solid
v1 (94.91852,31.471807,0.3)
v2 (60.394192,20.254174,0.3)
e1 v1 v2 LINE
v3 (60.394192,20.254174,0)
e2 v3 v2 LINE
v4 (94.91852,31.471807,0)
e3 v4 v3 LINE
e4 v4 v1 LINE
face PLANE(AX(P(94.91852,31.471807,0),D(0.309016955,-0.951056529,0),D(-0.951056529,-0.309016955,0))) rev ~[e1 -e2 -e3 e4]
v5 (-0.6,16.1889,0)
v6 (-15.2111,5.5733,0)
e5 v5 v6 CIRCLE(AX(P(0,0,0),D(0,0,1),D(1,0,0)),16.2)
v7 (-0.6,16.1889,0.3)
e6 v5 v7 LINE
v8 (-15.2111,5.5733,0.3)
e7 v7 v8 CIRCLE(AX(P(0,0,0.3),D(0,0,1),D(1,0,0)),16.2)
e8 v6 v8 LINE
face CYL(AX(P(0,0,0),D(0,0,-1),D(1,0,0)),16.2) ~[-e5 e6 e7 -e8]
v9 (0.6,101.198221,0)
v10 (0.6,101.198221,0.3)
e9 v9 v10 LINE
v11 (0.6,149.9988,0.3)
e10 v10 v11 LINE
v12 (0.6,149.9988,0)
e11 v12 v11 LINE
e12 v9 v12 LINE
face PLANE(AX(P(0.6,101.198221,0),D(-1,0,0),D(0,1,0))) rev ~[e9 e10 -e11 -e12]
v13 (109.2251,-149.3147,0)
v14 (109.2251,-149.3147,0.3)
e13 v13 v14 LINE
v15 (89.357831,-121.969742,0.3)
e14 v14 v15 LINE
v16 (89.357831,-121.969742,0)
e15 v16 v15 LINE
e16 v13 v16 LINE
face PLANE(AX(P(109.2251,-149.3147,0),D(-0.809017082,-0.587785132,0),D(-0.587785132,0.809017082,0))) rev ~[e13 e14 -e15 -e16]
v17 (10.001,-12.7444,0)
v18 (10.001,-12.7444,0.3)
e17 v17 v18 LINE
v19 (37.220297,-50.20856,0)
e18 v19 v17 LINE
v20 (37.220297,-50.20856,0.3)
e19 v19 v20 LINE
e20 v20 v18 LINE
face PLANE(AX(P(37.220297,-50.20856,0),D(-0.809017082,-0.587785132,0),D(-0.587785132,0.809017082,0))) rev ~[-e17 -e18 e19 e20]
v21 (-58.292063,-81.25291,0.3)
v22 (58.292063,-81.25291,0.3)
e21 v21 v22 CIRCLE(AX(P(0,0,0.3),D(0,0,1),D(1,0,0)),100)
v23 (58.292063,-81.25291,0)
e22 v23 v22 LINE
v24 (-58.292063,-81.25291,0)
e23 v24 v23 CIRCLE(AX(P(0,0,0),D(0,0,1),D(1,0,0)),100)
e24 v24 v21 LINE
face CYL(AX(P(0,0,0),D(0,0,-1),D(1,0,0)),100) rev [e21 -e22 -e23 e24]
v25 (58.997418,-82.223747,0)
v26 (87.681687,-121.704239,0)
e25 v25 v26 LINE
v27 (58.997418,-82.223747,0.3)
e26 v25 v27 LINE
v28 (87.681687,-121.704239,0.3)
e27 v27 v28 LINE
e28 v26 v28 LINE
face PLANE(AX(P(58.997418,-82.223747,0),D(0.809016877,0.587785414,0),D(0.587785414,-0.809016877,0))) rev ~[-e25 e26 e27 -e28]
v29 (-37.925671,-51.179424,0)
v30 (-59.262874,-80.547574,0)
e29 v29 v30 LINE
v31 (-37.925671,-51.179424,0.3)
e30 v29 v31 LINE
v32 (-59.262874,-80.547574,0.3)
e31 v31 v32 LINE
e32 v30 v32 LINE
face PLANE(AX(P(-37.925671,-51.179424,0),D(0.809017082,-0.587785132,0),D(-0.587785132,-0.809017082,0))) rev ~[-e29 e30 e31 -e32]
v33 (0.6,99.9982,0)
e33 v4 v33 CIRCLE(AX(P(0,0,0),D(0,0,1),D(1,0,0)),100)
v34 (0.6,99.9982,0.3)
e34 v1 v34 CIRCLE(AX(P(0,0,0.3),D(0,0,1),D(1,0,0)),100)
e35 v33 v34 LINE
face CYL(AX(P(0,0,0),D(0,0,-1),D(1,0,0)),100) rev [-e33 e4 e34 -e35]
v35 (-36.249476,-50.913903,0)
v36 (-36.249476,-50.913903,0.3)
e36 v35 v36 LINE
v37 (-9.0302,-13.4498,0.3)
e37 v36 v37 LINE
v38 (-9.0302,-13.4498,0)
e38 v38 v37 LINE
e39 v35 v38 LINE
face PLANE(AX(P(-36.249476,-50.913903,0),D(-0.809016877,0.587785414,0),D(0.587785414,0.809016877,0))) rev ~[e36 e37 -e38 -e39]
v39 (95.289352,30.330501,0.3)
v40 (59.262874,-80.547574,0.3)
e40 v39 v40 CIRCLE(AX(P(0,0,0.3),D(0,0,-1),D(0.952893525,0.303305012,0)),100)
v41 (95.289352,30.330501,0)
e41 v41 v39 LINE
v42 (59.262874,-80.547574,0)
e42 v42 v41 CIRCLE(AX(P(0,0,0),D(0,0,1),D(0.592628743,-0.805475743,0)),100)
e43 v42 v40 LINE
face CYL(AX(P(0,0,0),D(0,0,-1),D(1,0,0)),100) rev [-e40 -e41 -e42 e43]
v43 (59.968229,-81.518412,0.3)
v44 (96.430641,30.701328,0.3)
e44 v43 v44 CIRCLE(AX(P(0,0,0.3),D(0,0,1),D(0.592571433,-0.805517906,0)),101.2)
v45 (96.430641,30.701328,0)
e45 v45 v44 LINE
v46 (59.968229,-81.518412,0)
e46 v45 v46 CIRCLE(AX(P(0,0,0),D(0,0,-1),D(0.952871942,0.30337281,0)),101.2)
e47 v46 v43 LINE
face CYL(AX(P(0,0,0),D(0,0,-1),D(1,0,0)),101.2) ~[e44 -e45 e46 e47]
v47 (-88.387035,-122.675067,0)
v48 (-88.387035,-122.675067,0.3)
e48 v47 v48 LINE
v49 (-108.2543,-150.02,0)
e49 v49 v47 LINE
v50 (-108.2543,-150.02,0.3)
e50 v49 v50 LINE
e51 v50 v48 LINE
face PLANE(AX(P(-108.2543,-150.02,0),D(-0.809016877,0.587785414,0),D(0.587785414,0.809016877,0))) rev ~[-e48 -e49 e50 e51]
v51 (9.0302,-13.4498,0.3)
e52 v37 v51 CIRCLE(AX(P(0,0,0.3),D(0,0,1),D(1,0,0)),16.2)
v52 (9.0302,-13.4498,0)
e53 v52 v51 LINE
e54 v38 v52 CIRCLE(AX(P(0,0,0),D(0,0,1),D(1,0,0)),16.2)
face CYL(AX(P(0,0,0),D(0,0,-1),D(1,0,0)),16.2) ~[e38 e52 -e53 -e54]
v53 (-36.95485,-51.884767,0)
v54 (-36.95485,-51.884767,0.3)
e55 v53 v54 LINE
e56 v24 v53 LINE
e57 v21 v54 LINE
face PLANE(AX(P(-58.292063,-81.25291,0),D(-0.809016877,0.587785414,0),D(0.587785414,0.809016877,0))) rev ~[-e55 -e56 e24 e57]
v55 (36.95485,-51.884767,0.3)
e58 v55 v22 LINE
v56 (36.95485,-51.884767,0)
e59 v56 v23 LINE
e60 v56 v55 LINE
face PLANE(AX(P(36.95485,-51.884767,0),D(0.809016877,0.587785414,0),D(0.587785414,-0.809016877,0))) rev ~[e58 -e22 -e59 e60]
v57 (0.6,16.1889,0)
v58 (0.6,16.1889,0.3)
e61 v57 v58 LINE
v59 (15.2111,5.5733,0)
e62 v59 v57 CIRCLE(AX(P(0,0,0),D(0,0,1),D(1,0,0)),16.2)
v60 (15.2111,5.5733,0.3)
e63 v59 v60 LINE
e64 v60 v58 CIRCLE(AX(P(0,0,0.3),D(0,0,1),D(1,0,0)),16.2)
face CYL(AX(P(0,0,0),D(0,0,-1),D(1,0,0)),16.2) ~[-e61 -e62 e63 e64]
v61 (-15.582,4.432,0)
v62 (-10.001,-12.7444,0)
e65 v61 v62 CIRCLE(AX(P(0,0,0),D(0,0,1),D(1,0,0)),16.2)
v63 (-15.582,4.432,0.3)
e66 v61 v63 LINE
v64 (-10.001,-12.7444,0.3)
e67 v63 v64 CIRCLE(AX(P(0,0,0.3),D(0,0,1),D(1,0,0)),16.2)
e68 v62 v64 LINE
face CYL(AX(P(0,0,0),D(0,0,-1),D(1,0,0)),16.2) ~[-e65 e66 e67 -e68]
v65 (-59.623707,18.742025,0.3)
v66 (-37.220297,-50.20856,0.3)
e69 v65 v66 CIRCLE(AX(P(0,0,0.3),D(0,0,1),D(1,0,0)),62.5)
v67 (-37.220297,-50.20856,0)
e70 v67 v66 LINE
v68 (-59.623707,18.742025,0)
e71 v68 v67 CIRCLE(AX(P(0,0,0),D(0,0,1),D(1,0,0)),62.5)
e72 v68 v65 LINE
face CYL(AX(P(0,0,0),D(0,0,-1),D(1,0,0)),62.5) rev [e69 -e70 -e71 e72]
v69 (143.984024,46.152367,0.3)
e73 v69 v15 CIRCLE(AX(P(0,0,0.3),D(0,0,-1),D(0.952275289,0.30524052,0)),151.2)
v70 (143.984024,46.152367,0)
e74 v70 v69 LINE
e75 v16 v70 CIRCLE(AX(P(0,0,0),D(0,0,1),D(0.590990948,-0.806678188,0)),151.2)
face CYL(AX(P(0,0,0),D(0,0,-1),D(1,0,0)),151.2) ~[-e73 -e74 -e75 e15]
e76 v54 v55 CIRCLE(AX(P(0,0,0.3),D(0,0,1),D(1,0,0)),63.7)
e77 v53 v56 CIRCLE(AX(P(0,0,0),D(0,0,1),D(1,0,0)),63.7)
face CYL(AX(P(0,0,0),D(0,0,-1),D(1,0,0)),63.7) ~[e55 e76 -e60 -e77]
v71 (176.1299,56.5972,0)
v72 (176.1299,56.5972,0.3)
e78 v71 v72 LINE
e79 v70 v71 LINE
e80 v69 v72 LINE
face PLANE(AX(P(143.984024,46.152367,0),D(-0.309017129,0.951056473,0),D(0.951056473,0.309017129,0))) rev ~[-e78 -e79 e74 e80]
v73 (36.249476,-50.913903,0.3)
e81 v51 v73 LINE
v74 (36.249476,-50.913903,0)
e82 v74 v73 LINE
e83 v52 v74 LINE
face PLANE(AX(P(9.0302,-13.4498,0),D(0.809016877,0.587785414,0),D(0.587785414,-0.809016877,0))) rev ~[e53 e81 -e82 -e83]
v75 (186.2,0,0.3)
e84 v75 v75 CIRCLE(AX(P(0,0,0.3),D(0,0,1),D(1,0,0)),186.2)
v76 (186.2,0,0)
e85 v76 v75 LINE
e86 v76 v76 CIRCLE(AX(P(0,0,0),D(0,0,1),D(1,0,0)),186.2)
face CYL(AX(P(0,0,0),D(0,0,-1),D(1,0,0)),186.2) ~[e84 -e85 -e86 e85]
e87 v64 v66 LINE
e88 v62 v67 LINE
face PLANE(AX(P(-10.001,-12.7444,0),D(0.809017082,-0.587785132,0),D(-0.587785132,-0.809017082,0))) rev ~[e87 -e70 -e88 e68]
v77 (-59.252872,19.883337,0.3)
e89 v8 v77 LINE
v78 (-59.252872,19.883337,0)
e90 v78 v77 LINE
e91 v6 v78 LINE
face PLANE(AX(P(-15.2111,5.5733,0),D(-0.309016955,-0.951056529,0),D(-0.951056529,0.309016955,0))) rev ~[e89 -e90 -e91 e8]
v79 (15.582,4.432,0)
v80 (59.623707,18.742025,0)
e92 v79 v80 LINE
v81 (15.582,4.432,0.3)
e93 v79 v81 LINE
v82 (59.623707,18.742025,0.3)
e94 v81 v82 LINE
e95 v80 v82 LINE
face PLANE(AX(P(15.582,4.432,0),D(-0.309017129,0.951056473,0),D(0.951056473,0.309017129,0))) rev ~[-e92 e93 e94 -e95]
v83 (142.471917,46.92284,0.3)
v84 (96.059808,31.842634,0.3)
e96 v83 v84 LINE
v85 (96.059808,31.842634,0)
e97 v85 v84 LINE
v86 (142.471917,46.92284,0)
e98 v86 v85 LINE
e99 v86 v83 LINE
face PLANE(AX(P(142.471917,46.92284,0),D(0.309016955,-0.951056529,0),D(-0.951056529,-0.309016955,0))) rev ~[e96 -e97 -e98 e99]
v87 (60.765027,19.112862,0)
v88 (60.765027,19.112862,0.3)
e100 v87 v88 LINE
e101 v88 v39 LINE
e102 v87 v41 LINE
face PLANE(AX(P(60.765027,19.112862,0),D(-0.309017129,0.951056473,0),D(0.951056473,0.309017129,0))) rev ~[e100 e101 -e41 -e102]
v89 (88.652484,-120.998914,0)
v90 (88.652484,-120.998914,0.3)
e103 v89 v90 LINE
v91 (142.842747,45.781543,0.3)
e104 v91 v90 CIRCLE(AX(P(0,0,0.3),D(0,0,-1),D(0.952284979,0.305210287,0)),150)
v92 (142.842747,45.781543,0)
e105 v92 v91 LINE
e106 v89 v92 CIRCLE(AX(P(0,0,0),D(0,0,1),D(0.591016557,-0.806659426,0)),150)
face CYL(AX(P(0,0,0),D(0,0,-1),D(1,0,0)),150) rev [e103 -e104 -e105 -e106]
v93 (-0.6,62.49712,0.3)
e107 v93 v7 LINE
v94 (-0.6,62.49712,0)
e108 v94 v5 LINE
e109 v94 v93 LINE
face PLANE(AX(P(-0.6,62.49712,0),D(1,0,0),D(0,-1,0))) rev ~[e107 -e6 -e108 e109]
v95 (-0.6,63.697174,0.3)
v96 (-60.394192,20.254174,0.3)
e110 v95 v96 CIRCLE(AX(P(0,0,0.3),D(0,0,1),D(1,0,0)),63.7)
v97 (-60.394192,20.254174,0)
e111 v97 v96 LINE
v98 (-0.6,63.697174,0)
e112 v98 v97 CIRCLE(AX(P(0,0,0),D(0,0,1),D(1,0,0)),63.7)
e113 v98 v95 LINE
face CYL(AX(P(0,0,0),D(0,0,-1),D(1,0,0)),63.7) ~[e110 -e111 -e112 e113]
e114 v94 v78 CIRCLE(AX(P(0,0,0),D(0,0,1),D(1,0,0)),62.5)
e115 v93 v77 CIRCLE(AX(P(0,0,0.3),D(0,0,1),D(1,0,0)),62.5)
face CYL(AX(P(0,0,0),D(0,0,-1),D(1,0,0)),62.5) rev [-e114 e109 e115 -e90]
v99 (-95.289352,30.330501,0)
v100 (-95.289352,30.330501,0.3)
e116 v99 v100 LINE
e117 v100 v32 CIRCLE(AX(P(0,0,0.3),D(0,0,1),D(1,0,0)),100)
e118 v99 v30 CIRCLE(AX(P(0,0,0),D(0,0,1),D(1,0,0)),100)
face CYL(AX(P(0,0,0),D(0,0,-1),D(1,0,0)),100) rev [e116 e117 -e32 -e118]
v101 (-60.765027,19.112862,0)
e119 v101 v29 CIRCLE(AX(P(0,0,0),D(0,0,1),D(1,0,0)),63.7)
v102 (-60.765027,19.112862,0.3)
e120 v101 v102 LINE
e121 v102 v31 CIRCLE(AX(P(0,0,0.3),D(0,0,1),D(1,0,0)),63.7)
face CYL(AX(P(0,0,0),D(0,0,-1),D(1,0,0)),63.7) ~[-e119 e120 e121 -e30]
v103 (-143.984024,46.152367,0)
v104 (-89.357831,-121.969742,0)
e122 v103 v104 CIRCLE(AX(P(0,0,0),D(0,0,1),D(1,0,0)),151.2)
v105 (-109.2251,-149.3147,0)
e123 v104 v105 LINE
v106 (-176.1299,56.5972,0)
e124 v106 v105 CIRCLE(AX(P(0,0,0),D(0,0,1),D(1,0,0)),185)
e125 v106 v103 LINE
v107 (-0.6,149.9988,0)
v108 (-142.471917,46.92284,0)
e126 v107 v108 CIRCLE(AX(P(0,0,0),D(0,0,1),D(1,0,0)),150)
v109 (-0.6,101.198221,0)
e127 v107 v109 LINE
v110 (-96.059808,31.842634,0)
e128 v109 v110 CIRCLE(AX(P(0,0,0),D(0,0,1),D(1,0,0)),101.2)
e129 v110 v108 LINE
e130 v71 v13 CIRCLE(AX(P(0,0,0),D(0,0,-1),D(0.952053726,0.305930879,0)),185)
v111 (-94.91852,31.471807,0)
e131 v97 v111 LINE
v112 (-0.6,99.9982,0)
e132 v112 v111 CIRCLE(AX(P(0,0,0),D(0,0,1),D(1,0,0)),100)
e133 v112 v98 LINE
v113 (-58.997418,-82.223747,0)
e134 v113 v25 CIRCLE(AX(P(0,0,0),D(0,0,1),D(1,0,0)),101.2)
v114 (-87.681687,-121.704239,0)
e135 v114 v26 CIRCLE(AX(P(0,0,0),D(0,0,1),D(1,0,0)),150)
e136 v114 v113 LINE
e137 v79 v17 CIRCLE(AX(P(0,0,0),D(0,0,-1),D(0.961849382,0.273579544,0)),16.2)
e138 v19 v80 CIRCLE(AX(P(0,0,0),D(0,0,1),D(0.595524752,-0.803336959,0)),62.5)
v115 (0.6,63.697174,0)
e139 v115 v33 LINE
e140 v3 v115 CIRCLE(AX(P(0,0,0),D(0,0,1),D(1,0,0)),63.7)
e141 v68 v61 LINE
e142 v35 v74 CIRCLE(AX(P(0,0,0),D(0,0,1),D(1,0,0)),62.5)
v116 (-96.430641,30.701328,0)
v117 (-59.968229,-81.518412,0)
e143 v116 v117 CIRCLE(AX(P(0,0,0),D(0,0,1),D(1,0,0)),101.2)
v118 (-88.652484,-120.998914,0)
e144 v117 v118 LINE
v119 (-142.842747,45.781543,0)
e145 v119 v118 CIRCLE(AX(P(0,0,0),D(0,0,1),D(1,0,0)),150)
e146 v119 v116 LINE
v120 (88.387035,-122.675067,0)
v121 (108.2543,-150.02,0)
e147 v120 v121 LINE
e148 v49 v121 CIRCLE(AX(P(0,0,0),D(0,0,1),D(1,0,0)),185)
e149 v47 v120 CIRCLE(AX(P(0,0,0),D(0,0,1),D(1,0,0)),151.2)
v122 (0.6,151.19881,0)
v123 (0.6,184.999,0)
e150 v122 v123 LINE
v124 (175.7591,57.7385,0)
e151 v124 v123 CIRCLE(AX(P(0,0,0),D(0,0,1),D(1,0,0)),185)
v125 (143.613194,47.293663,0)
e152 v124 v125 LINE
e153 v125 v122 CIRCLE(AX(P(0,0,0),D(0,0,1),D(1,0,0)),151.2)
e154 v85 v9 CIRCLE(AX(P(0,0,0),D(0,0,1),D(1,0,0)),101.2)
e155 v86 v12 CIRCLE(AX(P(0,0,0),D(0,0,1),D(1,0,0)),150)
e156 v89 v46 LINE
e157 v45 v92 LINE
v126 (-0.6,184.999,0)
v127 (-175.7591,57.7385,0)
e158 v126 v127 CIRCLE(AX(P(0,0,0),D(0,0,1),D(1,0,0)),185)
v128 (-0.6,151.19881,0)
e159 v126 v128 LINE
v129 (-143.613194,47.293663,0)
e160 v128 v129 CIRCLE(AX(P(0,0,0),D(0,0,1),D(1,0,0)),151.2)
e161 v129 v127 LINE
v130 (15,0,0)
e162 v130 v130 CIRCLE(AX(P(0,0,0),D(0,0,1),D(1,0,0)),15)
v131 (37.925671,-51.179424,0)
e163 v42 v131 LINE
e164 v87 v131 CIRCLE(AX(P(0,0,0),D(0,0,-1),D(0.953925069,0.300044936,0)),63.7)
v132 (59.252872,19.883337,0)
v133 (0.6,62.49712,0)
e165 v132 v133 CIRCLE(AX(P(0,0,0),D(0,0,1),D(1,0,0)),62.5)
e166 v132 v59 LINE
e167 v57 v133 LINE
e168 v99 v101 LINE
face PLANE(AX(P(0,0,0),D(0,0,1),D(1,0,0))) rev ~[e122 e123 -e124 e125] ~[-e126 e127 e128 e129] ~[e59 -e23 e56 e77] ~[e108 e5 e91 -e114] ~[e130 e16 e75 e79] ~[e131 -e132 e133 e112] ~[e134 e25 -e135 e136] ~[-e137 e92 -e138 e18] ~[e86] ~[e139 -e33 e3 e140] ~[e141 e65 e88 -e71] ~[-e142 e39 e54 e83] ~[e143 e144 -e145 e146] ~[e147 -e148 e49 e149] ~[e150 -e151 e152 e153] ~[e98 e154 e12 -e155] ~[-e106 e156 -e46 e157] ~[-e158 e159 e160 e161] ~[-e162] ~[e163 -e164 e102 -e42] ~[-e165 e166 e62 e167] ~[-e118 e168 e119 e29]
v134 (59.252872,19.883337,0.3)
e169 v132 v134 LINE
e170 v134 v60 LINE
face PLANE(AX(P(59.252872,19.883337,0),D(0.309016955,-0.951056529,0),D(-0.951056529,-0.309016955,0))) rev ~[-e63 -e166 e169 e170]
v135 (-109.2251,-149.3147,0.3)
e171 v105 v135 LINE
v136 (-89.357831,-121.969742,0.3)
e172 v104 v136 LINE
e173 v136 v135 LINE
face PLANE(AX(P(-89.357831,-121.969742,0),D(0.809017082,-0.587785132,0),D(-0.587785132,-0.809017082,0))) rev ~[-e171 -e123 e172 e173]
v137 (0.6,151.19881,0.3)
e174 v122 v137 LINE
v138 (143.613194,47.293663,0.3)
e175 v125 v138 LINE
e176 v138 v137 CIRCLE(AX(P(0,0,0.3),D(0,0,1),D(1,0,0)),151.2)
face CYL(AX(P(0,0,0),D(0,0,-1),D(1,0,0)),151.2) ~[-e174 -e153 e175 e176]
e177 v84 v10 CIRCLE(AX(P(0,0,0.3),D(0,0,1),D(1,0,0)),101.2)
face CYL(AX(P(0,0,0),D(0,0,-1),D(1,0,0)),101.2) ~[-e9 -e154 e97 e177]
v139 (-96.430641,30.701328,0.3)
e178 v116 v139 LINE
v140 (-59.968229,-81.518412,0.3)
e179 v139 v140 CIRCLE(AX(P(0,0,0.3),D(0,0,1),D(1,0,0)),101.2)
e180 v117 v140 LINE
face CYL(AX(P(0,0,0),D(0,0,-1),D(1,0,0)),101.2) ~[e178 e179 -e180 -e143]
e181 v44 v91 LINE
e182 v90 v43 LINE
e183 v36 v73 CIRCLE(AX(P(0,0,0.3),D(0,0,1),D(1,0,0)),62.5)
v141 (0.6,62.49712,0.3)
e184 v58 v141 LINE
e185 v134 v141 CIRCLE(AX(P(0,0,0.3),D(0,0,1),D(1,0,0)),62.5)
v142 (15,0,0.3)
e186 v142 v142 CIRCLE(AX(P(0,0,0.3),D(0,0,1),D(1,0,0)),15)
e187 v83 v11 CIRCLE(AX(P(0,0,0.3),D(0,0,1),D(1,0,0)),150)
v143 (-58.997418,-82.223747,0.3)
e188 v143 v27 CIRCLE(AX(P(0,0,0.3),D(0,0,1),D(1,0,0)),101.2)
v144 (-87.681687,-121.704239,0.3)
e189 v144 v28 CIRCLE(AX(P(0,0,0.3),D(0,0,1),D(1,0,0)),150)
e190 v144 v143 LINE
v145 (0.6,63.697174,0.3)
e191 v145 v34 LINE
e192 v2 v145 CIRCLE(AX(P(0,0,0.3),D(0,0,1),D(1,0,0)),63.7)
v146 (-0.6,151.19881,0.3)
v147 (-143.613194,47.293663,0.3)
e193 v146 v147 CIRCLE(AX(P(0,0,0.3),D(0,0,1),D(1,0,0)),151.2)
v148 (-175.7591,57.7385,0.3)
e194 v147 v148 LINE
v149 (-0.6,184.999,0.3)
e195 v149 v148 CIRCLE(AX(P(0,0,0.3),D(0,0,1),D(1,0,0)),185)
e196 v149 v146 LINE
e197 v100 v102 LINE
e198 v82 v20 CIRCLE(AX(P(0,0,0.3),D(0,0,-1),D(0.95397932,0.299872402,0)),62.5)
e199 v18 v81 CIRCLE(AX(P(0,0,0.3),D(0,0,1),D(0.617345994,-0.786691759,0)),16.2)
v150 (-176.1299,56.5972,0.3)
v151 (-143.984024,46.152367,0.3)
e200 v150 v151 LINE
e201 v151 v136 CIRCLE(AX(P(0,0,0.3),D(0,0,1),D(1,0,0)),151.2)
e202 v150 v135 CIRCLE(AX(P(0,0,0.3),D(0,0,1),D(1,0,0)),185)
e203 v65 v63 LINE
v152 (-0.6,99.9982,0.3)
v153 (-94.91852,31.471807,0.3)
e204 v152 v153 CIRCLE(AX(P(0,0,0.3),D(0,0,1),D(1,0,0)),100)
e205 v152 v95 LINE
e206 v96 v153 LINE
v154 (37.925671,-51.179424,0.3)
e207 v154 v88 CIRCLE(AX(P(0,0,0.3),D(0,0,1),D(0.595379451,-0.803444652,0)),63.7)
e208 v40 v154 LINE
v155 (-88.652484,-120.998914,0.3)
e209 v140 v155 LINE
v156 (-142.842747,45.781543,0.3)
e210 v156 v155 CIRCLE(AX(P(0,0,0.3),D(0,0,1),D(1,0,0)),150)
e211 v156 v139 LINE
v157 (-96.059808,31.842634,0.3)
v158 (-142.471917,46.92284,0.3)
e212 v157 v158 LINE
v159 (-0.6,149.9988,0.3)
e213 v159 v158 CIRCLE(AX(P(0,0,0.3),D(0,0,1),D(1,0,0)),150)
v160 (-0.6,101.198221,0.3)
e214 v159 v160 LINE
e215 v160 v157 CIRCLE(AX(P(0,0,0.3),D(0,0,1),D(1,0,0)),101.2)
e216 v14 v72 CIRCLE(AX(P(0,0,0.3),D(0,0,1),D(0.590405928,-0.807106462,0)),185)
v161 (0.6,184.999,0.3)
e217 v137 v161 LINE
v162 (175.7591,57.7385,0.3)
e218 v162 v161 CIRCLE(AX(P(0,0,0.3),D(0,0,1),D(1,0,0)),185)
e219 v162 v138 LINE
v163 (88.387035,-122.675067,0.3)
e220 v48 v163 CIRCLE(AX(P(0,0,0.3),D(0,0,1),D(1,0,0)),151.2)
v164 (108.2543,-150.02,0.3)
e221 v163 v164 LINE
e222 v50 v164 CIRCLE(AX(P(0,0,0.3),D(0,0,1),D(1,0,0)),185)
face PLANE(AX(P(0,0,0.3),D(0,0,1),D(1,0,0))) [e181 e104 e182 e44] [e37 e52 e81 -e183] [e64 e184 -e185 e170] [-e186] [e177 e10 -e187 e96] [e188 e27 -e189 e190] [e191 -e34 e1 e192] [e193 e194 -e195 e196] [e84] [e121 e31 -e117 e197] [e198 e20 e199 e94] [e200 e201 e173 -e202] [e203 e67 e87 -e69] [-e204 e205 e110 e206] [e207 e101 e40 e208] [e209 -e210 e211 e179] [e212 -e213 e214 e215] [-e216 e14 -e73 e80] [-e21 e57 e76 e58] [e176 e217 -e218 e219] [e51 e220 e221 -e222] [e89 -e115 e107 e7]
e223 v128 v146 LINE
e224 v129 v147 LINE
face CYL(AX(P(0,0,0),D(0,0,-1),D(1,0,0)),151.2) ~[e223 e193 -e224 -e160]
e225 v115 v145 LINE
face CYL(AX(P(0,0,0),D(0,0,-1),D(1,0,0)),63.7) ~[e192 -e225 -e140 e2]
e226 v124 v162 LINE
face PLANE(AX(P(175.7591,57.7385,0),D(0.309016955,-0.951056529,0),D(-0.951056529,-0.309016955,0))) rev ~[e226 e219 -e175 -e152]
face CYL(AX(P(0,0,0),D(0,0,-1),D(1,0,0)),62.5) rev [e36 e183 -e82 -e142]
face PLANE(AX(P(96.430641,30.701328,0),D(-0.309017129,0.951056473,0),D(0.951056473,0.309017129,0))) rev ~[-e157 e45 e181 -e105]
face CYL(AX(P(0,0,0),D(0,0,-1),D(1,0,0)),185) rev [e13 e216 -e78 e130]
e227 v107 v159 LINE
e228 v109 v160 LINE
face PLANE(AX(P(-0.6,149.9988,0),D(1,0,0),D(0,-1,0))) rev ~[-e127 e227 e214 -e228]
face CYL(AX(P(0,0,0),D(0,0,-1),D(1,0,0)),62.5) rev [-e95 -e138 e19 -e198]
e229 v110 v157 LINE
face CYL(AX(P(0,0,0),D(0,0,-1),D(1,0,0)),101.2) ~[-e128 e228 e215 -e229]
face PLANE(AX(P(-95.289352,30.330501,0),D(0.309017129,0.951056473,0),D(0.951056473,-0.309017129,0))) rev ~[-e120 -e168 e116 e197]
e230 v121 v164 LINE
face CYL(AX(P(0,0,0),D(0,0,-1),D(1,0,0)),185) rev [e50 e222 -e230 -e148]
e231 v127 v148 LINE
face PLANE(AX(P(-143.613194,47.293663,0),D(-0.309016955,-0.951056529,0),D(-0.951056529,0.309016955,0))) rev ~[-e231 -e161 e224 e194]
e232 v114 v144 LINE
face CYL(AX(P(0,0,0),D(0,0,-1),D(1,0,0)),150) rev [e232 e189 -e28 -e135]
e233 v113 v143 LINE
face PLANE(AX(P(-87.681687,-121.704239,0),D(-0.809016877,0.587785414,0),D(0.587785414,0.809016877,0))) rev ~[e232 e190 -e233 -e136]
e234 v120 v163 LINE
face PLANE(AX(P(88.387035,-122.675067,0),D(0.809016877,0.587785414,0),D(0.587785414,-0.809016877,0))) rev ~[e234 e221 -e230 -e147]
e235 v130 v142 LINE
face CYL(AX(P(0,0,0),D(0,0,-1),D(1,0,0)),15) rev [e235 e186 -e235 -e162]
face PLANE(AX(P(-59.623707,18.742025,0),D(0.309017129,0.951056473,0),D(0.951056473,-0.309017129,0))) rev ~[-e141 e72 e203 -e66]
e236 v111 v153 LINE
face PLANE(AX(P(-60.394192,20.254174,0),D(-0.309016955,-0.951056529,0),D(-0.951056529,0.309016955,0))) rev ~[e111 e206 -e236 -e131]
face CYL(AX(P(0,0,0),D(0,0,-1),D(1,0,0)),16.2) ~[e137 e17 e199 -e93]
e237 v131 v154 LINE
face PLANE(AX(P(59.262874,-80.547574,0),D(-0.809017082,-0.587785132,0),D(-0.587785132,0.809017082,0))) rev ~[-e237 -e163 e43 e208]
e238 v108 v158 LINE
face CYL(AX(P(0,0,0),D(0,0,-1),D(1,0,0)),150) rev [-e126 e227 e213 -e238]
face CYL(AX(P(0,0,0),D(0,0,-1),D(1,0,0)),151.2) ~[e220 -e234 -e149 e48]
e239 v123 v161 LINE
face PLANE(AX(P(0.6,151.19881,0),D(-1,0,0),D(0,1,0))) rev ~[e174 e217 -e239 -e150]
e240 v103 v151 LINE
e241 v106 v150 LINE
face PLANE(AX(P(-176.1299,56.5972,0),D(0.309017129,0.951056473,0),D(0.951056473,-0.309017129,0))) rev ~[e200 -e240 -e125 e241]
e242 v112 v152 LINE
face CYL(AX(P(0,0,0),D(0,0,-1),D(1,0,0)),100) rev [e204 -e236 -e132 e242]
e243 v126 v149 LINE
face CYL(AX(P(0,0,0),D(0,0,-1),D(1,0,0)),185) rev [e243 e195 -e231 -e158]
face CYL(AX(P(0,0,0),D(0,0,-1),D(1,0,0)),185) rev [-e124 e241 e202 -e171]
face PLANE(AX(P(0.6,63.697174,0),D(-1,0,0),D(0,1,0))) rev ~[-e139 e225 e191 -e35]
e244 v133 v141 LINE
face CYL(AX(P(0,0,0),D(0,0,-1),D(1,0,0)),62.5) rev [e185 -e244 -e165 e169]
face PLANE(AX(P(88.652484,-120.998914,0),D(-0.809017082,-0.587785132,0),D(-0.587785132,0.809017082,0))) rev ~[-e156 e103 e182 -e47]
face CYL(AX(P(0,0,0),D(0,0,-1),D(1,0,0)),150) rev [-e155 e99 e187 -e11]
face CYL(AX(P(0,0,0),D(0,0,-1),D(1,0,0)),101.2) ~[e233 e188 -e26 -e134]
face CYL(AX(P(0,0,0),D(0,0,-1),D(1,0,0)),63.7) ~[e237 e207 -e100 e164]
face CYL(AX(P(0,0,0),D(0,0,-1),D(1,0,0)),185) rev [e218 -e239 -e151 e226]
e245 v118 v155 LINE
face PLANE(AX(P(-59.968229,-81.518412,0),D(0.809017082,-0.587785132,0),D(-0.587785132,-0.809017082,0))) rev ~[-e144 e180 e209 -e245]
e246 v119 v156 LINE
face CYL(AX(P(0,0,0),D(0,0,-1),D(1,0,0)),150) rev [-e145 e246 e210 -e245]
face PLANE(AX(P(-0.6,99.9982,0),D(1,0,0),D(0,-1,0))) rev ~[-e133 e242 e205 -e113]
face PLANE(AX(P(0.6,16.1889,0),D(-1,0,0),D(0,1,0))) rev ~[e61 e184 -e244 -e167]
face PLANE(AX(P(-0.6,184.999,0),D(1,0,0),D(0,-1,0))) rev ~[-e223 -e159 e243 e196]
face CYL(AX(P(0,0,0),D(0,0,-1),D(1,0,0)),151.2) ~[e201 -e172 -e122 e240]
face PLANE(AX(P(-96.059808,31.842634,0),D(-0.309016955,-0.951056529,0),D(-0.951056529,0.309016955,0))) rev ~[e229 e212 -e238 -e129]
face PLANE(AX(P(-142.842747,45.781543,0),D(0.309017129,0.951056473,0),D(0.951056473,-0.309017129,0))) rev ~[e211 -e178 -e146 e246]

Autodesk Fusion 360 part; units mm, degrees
sketch "Sketch1" plane through (0, 0, 0) normal (0, 0, 1) x (1, 0, 0)
  circle A0 centre (0, 0) radius 185
  circle A1 centre (0, 0) radius 186.2
  circle A2 centre (0, 0) radius 150
  circle A3 centre (0, 0) radius 100
  circle A4 centre (0, 0) radius 62.5
  circle A5 centre (0, 0) radius 15
  circle A6 centre (0, 0) radius 151.2
  circle A7 centre (0, 0) radius 101.2
  circle A8 centre (0, 0) radius 63.7
  circle A9 centre (0, 0) radius 16.2
  line L0 (0, 0) -> (0, 186.2) construction
  line L1 (-0.6, 184.999) -> (-0.6, 16.1889)
  line L2 (0.6, 16.1889) -> (0.6, 184.999)
  line L3 (-15.2111, 5.5733) -> (-175.7591, 57.7385)
  line L4 (-176.1299, 56.5972) -> (-15.582, 4.432)
  line L5 (-10.001, -12.7444) -> (-109.2251, -149.3147)
  line L6 (-108.2543, -150.02) -> (-9.0302, -13.4498)
  line L7 (9.0302, -13.4498) -> (108.2543, -150.02)
  line L8 (109.2251, -149.3147) -> (10.001, -12.7444)
  line L9 (15.582, 4.432) -> (176.1299, 56.5972)
  line L10 (175.7591, 57.7385) -> (15.2111, 5.5733)
  dimension "d1" = 370
  dimension "d2" = 1.2
  dimension "d3" = 300
  dimension "d4" = 200
  dimension "d5" = 125
  dimension "d6" = 30
  dimension "d7" = 1.2
  dimension "d8" = 1.2
  dimension "d9" = 1.2
  dimension "d10" = 1.2
  dimension "d11" = 1.2
  dimension "d13" = 360
extrude "Extrude1" add sketch "Sketch1" along normal blind 0.3 contours A0 A6 L9 L10 | A0 A6 L7 L8 | A2 A6 L9 L10 | A2 A6 L8 L9 | A2 A6 L7 L8 | A0 A6 L1 L2 | A2 A6 L2 L10 | A2 A7 L9 L10 | A0 A6 L5 L6 | A2 A6 L6 L7 | A2 A7 L7 L8 | A2 A6 L1 L2 | A3 A7 L9 L10 | A3 A7 L8 L9 | A2 A6 L5 L6 | A3 A7 L7 L8 | A0 A6 L3 L4 | A2 A6 L1 L3 | A2 A7 L1 L2 | A3 A7 L2 L10 | A3 A8 L9 L10 | A2 A6 L4 L5 | A2 A7 L5 L6 | A3 A7 L6 L7 | A3 A8 L7 L8 | A2 A6 L3 L4 | A3 A7 L1 L2 | A4 A8 L9 L10 | A4 A8 L8 L9 | A3 A7 L5 L6 | A4 A8 L7 L8 | A2 A7 L3 L4 | A3 A7 L1 L3 | A3 A8 L1 L2 | A4 A8 L2 L10 | A4 A9 L9 L10 | A3 A7 L4 L5 | A3 A8 L5 L6 | A4 A8 L6 L7 | A4 A9 L7 L8 | A3 A7 L3 L4 | A4 A8 L1 L2 | A9 | A4 A8 L5 L6 | A3 A8 L3 L4 | A4 A8 L1 L3 | A4 A9 L1 L2 | A4 A8 L4 L5 | A4 A9 L5 L6 | A4 A8 L3 L4 | A4 A9 L3 L4 | A1
